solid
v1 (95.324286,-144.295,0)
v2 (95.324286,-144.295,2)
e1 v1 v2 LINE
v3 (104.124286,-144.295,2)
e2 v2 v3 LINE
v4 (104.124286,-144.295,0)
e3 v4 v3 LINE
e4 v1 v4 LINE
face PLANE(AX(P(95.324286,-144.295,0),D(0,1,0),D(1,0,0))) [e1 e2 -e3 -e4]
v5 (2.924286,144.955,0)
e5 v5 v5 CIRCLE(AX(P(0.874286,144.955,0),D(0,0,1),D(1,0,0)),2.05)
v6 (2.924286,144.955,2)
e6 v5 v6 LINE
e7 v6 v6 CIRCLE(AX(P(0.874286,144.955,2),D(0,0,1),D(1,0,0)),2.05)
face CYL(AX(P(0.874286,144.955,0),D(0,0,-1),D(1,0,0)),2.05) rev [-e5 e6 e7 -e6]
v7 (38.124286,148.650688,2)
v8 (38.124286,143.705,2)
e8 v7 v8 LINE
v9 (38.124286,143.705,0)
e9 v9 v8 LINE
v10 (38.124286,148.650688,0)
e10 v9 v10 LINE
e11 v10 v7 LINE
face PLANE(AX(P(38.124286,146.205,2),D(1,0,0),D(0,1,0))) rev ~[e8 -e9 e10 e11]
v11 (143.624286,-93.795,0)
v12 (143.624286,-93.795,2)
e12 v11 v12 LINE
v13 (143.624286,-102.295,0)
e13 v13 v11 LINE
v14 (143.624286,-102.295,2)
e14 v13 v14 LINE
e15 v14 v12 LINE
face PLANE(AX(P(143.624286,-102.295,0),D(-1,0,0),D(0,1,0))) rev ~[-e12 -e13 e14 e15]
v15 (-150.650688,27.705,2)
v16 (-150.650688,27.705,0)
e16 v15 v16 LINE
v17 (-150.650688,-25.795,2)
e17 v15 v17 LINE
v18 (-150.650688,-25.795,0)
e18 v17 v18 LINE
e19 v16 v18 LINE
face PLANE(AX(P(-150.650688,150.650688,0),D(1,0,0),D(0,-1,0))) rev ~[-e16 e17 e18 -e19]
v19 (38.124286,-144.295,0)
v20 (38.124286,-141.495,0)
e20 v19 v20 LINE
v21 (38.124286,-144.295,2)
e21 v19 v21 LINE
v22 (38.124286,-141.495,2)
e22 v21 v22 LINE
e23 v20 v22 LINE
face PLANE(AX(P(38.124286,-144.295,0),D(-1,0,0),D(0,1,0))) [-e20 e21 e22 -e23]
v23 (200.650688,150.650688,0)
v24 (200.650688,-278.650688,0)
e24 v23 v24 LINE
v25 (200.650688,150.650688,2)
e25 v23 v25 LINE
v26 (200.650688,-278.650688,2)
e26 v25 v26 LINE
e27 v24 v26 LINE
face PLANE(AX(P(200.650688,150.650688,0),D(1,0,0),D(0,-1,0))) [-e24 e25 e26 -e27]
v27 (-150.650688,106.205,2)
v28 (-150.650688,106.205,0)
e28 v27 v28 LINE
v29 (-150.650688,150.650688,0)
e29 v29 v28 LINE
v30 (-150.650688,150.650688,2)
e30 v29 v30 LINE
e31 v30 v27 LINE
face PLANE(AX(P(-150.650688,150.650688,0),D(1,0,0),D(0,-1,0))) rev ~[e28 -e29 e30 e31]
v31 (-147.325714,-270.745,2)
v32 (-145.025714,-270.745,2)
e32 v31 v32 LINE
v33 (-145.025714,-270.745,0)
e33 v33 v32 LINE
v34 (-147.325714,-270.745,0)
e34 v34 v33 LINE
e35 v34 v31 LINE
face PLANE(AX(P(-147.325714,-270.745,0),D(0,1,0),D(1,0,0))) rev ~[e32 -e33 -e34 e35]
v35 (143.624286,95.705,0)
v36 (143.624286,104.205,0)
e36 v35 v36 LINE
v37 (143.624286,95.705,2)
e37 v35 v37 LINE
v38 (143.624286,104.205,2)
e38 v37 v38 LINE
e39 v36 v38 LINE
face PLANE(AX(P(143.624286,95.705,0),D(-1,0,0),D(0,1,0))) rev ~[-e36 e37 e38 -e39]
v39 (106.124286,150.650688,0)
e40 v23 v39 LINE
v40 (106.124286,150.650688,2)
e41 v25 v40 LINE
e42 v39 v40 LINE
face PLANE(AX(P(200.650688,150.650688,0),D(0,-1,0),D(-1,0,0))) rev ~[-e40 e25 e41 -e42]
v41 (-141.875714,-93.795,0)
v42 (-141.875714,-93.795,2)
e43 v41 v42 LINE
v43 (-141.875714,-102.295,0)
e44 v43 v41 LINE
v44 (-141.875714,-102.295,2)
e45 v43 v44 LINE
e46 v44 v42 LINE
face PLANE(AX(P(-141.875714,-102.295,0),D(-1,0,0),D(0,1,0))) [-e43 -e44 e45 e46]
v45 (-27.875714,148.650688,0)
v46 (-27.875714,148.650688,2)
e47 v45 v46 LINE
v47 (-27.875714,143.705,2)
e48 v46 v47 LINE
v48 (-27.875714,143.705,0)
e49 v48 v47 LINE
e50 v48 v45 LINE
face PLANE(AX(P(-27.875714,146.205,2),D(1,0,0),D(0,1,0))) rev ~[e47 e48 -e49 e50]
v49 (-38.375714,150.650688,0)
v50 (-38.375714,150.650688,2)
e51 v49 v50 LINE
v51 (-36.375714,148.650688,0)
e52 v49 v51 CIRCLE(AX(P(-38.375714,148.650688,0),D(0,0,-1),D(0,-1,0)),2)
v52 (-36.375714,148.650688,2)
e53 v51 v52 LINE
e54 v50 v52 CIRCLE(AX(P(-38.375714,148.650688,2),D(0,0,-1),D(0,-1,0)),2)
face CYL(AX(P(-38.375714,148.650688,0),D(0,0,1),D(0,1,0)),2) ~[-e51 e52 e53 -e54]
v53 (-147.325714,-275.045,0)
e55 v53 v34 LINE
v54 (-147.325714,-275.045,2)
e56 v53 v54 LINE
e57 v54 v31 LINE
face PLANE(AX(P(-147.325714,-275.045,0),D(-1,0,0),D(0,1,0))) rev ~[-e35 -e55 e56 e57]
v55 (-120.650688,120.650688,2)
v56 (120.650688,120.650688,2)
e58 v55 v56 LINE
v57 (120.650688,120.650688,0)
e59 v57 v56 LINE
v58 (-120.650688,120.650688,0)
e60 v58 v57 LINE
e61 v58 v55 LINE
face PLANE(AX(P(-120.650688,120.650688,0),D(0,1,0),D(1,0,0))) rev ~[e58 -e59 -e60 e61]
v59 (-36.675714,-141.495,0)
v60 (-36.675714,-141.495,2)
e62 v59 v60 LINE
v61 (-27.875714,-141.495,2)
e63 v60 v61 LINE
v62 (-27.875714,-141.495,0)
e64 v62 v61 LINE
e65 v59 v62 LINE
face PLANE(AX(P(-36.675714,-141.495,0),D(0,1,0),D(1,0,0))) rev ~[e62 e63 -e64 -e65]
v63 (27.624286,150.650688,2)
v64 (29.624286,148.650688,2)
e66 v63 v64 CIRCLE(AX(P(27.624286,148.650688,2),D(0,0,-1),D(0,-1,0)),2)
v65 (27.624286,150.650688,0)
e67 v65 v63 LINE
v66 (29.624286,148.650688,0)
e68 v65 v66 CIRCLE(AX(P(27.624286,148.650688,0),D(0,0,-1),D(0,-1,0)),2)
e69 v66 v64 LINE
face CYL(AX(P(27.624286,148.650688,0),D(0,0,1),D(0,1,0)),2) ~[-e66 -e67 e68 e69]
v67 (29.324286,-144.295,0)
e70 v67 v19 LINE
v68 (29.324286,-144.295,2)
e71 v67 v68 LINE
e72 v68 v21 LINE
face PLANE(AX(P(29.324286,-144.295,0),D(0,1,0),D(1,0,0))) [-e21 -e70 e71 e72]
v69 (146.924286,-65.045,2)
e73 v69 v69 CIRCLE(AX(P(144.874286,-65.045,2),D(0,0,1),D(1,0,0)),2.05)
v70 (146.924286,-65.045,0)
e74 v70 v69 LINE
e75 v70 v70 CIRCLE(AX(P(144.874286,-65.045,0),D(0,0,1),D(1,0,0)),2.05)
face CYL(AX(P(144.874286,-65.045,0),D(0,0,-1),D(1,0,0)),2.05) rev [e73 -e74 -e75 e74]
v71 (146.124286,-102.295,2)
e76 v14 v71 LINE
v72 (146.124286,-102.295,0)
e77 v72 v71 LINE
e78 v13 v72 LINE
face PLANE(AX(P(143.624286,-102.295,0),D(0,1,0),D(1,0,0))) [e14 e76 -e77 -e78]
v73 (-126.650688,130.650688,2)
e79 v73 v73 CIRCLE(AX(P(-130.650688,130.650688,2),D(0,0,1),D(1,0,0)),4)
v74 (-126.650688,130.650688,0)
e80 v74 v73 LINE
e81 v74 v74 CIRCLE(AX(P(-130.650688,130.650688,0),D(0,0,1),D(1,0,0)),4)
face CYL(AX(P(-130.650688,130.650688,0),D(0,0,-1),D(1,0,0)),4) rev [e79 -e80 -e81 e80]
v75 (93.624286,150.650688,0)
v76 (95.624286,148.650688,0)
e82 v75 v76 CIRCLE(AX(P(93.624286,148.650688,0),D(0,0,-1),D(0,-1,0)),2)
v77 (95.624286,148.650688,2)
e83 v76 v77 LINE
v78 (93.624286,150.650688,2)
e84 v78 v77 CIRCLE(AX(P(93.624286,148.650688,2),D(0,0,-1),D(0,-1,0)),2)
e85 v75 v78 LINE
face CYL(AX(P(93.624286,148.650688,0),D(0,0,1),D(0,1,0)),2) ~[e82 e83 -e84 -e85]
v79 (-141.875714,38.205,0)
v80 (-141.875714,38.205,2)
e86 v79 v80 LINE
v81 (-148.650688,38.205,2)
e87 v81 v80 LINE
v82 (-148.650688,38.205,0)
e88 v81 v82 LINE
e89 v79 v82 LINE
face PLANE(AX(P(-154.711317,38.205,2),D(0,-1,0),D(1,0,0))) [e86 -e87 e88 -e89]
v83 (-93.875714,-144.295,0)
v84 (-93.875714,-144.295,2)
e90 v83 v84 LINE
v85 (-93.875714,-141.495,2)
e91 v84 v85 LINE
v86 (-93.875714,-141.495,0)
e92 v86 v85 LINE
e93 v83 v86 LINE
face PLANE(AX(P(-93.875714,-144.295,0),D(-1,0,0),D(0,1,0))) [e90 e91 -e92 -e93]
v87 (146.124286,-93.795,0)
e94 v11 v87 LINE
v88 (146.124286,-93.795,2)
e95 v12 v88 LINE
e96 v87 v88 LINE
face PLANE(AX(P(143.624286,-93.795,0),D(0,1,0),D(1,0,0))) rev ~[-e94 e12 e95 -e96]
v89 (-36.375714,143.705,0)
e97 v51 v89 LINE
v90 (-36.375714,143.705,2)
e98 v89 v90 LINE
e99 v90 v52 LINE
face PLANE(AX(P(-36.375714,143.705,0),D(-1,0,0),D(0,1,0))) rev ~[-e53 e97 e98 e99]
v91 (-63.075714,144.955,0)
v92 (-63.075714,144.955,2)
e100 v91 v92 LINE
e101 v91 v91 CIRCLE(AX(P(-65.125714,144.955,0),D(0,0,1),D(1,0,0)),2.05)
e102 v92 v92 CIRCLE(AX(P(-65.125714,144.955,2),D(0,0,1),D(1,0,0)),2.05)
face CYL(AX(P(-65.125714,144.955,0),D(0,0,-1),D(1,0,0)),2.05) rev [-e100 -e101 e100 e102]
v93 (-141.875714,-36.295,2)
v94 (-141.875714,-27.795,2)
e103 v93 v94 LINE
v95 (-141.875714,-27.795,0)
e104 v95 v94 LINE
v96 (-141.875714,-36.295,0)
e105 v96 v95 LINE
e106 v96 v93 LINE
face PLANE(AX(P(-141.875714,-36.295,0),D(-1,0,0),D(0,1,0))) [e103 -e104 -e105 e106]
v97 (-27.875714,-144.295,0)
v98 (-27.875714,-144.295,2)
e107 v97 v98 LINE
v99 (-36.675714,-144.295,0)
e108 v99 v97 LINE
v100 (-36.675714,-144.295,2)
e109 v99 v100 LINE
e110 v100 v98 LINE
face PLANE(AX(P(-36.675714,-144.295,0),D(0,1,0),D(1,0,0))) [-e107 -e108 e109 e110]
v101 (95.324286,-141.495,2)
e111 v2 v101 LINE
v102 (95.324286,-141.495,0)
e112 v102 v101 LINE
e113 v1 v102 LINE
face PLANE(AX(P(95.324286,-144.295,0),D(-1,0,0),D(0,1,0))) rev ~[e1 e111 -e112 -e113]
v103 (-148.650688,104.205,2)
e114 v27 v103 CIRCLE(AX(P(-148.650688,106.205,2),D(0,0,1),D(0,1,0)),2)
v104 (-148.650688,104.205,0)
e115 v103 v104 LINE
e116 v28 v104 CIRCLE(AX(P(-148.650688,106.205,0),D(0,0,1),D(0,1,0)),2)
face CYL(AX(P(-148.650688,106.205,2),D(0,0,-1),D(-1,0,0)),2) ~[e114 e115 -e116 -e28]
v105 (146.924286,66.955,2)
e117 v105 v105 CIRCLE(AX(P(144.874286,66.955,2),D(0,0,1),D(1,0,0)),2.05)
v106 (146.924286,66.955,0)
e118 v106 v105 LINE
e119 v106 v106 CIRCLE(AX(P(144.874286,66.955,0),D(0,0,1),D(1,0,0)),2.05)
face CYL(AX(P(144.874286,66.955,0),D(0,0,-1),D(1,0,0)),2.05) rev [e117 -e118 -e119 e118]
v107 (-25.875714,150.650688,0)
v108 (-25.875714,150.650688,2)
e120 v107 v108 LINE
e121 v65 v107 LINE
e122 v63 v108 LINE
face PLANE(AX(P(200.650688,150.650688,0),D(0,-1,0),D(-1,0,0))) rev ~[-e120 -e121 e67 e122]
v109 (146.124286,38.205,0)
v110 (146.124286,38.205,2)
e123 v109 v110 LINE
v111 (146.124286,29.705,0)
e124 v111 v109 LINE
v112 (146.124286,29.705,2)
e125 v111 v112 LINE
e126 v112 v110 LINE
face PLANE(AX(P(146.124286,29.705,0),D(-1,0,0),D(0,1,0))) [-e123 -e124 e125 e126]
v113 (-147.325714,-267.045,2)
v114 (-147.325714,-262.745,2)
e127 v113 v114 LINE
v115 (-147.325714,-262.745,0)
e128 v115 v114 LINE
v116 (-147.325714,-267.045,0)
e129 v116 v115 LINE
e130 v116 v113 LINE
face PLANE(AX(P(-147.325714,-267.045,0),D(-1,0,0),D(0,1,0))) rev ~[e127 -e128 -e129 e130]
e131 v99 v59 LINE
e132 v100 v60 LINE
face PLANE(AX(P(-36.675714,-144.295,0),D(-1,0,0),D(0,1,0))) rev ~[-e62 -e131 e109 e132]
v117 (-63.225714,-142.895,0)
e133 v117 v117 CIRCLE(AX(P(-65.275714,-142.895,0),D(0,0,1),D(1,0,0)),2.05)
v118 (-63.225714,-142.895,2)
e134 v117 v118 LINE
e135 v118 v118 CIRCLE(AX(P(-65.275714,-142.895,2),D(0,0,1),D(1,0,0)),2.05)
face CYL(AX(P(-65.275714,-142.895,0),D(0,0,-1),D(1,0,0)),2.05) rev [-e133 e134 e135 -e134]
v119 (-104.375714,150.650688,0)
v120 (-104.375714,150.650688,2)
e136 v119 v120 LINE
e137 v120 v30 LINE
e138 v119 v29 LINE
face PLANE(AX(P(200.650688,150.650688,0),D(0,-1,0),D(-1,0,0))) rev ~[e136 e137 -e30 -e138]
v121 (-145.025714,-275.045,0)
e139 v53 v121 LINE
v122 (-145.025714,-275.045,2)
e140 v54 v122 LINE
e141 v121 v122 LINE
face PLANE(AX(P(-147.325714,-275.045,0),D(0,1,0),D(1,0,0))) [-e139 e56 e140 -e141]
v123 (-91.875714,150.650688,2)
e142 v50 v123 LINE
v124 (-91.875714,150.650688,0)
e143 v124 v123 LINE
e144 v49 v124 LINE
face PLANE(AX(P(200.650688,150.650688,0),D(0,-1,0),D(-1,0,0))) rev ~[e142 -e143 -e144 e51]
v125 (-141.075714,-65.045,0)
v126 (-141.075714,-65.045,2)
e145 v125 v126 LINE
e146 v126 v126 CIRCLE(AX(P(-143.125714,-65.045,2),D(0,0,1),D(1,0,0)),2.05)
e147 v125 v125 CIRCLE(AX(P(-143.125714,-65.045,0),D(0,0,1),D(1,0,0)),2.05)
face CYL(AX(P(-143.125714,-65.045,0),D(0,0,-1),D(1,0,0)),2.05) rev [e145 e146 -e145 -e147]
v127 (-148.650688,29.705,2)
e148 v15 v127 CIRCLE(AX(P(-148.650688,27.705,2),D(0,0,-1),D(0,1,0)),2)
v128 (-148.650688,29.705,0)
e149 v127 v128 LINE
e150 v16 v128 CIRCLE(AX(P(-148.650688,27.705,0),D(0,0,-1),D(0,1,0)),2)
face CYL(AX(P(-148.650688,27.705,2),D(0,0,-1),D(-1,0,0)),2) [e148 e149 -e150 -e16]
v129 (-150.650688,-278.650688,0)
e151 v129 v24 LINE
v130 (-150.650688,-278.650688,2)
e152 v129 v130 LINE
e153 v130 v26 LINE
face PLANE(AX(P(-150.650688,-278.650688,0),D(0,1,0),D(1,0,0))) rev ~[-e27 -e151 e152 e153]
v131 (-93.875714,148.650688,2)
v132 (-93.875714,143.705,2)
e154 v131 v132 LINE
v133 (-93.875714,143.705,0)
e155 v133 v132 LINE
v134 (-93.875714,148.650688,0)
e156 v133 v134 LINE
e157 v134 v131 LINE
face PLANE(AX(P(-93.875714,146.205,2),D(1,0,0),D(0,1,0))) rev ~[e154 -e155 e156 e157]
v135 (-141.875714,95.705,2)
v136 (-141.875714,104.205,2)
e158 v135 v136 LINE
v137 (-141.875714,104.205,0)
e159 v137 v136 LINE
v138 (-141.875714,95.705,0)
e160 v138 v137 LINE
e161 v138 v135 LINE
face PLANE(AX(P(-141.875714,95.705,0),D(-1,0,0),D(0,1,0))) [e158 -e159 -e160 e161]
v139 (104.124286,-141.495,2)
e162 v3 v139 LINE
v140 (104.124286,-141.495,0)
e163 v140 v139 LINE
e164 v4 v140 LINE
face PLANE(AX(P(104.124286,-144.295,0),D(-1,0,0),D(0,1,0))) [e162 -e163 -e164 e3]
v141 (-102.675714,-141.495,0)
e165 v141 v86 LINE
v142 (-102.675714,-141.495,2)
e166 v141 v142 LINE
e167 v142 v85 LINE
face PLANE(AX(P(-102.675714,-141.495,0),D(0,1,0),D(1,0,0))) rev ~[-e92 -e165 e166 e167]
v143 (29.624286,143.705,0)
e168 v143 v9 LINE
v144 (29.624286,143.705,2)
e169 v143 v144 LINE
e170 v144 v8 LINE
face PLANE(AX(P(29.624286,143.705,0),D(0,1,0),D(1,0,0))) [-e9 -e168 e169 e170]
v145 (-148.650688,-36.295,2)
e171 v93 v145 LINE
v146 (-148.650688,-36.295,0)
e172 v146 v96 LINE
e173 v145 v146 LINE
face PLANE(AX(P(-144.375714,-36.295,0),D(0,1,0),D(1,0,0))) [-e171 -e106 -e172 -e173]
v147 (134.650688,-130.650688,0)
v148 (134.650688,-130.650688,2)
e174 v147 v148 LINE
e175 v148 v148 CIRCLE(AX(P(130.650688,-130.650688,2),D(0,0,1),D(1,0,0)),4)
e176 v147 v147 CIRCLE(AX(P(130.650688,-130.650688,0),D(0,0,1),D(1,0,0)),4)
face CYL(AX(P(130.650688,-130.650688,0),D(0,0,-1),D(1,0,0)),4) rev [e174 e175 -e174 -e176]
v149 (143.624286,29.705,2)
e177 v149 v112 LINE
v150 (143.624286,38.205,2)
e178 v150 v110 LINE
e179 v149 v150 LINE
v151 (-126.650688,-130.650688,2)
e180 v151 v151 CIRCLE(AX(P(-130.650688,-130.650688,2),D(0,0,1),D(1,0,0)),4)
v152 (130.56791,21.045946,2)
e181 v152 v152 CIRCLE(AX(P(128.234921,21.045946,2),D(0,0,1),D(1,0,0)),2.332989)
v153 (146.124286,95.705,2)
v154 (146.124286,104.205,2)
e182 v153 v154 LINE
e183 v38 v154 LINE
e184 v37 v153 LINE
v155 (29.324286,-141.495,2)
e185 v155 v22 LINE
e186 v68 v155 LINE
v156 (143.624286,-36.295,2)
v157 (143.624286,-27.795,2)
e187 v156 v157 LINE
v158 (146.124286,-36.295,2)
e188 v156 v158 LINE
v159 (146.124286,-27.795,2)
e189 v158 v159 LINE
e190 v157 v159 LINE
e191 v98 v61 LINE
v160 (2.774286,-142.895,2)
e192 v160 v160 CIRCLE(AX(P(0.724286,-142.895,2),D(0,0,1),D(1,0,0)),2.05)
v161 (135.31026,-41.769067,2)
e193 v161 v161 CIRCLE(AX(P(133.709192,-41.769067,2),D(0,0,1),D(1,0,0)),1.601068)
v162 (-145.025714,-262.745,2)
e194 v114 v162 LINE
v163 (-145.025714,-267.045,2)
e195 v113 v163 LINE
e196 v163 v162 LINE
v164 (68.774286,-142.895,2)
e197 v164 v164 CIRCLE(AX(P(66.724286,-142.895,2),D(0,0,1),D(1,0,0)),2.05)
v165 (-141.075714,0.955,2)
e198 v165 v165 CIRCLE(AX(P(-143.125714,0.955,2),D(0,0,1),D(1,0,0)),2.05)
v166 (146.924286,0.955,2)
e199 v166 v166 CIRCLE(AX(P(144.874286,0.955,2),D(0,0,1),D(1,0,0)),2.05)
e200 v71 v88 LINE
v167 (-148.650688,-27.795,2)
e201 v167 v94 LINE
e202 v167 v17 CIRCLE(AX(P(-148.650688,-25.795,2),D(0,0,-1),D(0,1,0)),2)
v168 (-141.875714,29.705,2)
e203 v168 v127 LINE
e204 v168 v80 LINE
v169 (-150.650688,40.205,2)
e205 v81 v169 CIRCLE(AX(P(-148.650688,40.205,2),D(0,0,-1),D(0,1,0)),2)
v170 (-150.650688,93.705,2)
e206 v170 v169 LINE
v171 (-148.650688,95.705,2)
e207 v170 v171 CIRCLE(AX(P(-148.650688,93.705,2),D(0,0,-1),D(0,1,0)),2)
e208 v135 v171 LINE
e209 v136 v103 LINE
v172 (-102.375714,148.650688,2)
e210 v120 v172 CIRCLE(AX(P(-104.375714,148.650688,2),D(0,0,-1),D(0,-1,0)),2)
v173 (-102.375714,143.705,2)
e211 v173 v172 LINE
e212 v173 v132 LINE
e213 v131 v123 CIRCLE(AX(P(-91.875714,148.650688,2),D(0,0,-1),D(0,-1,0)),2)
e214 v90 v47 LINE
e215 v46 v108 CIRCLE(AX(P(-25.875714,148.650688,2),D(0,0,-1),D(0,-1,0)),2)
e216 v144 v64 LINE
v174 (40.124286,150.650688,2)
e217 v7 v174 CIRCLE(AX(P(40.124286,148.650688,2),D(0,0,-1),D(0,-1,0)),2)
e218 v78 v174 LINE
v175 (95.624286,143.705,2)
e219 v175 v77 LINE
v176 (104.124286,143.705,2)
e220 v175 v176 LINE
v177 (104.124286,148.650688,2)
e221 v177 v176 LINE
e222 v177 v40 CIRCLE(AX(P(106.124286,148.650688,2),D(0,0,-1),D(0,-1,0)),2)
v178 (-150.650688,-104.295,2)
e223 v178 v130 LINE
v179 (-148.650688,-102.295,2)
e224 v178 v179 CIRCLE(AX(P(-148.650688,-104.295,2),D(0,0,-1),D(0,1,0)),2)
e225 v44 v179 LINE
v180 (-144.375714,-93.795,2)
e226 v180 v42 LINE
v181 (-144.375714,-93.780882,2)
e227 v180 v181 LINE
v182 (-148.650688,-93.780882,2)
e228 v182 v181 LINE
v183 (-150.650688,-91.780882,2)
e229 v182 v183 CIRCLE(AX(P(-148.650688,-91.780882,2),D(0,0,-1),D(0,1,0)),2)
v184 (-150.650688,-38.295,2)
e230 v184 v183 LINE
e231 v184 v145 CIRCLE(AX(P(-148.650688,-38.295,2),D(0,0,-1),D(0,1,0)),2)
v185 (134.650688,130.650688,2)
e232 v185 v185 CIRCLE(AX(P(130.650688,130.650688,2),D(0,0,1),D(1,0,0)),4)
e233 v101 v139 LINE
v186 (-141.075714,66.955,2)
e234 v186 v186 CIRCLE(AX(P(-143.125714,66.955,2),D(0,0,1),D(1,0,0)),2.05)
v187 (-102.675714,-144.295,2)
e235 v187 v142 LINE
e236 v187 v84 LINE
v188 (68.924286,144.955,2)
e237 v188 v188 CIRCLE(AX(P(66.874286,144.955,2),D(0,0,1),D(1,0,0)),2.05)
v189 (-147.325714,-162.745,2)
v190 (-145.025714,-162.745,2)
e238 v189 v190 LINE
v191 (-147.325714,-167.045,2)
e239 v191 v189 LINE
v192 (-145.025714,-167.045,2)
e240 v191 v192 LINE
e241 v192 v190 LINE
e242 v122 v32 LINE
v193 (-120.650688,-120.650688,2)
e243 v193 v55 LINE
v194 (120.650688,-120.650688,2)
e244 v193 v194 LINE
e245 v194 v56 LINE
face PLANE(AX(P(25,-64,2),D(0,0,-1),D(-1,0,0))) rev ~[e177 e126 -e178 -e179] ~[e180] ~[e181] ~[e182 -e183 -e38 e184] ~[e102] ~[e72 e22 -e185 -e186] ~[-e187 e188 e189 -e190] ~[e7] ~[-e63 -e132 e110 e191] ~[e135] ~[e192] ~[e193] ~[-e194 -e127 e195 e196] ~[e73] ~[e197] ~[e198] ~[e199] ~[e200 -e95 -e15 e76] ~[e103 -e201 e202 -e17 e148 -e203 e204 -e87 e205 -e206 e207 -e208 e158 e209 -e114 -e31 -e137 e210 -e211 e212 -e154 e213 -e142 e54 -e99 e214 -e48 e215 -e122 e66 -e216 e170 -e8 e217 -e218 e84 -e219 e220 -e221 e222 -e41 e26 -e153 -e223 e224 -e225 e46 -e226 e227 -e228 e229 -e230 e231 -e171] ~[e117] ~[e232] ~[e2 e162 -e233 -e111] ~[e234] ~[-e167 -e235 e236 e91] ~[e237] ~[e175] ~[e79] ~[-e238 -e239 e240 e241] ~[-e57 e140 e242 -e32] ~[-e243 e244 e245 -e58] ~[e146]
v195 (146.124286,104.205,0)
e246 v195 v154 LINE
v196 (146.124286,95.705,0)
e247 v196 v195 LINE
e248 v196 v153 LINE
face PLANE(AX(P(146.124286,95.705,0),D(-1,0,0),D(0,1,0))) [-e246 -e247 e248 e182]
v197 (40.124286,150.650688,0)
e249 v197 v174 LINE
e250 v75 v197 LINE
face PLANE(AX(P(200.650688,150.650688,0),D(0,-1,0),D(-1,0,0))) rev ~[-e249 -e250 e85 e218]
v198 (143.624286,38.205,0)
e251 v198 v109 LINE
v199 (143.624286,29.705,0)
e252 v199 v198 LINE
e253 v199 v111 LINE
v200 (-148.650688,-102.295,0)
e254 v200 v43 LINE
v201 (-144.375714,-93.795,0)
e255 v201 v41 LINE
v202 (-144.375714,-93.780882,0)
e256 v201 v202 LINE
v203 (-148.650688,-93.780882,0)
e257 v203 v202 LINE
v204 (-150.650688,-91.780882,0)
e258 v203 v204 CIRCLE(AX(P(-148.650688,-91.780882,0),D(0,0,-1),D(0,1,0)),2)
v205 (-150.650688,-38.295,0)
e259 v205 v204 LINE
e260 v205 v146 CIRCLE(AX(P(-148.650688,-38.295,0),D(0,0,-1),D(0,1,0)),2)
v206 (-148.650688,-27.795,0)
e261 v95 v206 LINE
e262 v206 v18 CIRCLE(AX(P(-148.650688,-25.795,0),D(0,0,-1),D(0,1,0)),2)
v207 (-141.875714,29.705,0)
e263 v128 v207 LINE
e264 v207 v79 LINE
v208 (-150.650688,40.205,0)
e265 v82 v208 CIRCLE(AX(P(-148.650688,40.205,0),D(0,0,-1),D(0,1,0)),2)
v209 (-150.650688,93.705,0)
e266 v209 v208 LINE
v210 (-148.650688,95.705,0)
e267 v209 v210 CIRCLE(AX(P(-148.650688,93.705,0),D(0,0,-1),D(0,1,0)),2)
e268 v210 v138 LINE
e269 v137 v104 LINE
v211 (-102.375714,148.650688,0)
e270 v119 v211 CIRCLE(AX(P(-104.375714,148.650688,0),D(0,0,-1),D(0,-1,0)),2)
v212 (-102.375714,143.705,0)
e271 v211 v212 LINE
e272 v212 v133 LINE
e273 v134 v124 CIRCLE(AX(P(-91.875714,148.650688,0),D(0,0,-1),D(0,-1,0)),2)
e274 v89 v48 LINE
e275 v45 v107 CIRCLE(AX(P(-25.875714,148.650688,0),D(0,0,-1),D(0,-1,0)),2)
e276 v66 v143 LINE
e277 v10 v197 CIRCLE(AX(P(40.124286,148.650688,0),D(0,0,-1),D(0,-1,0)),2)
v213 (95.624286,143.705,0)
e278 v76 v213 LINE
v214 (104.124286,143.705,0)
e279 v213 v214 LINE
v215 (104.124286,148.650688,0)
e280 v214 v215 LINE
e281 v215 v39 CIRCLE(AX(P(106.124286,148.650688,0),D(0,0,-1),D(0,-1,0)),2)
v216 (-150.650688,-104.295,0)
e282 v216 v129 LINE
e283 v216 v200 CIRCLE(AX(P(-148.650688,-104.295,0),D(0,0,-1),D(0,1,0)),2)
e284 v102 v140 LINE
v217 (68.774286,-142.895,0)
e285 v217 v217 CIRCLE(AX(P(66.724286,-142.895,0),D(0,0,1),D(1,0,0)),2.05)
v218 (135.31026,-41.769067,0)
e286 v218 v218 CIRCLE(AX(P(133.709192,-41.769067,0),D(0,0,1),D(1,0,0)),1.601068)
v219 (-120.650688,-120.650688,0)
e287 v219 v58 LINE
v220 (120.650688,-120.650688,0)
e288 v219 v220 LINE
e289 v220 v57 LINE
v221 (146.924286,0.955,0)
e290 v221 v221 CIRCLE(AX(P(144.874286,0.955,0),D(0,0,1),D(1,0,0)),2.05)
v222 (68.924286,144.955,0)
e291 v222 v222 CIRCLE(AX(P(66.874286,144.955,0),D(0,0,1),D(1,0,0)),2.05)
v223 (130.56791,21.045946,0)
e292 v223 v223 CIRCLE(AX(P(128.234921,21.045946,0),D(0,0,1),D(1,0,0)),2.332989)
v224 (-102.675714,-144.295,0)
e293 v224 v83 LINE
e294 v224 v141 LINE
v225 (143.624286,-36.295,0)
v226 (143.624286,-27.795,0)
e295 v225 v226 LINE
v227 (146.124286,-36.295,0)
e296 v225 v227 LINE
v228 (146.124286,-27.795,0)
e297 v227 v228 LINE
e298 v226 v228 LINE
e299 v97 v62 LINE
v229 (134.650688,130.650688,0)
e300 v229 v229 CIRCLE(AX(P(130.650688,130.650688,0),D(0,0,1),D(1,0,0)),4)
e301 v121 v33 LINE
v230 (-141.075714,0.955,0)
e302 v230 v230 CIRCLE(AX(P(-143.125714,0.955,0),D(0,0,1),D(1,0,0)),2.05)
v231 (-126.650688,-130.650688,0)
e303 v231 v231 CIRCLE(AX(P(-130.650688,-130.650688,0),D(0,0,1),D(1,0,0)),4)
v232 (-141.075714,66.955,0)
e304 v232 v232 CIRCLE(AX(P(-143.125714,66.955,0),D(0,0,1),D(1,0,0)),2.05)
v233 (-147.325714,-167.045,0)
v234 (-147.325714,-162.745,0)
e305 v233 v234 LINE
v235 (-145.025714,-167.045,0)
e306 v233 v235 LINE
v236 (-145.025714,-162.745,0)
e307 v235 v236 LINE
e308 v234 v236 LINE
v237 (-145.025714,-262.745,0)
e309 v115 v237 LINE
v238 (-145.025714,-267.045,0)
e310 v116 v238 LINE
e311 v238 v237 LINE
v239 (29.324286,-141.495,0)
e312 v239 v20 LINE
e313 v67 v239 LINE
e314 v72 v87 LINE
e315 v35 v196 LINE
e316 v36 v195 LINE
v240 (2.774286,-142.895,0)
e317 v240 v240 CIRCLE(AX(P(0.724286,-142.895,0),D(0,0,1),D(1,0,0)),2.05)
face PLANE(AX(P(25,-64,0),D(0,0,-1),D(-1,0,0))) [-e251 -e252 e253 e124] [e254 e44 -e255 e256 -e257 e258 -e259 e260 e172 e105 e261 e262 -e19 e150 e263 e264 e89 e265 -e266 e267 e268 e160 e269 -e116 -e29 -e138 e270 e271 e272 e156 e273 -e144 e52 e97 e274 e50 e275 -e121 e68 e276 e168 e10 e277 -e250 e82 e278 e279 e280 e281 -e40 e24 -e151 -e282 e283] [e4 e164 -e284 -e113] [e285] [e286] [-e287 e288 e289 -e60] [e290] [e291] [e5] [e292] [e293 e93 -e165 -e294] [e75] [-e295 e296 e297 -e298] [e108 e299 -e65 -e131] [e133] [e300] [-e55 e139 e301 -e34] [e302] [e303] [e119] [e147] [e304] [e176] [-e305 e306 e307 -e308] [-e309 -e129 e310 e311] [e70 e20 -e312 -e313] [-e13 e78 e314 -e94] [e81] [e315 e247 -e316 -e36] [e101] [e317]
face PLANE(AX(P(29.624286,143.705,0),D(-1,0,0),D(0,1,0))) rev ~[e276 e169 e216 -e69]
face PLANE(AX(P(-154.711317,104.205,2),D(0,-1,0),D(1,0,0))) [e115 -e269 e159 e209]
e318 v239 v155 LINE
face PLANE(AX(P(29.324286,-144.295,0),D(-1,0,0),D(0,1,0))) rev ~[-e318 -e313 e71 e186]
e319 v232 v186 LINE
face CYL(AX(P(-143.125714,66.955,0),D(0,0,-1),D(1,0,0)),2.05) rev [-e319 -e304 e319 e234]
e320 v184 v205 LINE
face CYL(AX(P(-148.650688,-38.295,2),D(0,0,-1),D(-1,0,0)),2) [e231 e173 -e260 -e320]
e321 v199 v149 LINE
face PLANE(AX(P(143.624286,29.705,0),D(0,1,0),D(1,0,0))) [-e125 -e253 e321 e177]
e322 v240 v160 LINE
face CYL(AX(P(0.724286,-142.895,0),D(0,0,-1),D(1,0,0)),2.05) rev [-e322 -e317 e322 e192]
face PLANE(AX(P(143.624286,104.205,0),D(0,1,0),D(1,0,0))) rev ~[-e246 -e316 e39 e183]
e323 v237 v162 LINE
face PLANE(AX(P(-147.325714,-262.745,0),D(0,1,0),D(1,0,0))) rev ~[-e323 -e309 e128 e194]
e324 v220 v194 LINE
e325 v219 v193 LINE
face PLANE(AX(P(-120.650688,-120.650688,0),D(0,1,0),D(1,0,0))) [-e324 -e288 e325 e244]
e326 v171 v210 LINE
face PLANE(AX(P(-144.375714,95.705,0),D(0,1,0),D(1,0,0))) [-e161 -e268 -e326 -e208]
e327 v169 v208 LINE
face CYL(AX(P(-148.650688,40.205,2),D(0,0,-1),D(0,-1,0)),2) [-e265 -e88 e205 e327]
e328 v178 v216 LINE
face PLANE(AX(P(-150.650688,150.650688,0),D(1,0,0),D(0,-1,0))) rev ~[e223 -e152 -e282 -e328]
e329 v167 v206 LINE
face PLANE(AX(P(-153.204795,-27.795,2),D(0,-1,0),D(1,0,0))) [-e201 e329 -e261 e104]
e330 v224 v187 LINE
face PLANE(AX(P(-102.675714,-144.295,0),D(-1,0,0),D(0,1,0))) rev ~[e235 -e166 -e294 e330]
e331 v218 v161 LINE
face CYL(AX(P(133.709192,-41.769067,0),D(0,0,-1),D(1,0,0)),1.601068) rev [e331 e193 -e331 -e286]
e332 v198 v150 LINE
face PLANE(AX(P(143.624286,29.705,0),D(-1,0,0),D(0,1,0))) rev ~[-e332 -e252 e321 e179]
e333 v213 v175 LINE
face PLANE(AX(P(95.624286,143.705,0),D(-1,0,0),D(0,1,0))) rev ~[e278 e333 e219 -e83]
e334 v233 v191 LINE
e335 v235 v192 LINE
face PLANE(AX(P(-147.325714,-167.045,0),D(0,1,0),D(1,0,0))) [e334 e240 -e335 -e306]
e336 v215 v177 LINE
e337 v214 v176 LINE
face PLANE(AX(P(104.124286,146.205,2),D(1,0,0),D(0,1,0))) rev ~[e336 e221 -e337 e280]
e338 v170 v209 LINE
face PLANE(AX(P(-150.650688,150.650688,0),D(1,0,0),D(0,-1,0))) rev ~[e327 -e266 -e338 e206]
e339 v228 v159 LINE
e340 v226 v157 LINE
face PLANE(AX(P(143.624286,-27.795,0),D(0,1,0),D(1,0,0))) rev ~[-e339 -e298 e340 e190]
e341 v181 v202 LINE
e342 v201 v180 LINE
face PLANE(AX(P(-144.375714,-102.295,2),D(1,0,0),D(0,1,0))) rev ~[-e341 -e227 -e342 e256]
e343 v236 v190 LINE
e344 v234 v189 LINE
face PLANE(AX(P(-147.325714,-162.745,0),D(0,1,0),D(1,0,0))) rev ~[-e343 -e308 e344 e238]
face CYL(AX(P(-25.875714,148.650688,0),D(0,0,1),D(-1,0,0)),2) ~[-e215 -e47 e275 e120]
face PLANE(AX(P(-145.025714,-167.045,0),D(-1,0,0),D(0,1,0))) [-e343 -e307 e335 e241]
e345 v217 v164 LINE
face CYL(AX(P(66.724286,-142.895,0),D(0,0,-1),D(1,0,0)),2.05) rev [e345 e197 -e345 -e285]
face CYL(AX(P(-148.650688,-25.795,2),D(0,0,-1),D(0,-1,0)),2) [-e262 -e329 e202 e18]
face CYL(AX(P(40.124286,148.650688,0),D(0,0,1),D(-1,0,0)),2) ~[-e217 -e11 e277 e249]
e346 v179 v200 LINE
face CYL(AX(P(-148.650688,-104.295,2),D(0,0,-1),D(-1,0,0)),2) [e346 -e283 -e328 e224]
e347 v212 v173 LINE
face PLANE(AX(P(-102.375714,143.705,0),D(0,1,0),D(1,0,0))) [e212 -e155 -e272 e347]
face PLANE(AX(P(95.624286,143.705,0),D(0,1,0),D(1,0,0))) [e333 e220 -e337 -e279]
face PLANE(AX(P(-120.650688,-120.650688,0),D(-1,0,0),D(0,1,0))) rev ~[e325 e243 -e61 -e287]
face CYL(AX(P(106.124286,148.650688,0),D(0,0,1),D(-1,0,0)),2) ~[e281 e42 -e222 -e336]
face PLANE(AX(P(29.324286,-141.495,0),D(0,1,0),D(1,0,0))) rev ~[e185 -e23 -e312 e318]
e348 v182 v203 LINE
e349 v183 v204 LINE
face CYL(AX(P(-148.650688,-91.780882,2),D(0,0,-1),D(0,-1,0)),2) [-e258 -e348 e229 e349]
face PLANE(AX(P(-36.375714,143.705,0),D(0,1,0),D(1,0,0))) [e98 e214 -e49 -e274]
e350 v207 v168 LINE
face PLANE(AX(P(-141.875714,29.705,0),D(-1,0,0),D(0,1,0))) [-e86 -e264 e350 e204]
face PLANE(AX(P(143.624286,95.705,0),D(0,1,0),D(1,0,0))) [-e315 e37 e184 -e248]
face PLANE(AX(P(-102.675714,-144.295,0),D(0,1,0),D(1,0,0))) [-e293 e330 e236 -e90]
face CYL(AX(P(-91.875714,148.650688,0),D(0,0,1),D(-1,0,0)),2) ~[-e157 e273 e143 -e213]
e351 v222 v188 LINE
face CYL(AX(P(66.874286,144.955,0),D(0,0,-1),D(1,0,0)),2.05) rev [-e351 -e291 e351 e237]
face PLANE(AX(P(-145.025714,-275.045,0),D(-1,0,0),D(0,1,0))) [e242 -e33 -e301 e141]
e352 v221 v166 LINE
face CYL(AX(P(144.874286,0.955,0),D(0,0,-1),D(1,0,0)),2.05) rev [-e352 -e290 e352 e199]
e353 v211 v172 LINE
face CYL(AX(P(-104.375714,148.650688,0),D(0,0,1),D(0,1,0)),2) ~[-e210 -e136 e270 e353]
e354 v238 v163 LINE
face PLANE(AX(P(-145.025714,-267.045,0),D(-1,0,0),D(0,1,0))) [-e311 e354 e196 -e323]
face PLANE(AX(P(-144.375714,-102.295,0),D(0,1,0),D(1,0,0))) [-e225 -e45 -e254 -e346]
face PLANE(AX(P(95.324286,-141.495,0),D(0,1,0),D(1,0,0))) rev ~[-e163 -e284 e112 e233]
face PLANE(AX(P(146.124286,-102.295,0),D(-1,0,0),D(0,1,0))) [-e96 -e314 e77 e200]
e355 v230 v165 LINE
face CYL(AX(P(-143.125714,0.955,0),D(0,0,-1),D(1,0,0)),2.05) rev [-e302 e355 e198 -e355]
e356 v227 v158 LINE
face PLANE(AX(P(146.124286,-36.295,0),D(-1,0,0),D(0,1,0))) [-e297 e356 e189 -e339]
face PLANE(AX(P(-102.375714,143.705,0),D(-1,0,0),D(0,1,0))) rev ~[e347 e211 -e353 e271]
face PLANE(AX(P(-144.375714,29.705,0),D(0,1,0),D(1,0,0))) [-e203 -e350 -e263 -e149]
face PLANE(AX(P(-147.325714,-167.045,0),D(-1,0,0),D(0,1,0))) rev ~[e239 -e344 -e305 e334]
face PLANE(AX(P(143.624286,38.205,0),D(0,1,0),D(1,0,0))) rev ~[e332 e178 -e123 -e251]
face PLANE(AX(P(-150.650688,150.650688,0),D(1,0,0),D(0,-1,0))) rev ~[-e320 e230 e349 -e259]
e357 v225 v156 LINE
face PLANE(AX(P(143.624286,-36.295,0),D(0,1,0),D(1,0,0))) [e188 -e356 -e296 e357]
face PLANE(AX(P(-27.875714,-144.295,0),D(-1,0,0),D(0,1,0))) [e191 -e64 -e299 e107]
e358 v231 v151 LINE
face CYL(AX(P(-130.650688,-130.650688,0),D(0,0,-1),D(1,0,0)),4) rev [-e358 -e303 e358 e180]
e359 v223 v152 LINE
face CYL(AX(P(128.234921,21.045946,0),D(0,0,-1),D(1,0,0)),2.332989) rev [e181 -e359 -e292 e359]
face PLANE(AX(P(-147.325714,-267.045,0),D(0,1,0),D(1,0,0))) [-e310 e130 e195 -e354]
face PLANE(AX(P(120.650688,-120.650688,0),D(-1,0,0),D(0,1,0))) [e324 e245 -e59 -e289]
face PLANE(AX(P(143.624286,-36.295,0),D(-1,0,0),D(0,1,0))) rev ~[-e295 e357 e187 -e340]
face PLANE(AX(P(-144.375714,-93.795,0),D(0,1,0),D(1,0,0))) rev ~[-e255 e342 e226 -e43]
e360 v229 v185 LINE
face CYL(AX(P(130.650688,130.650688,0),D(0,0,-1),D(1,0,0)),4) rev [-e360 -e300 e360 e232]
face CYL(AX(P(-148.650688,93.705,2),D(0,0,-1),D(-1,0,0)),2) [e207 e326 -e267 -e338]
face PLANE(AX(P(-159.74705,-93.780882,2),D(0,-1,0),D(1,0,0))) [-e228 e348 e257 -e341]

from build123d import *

# Parameters (mm, degrees)
SKETCH_1_R          = 2.05
SKETCH_1_R_2        = 4
SKETCH_1_R_3        = 2.332988974
SKETCH_1_R_4        = 1.601067765
SKETCH_1_W          = 8.8
SKETCH_1_H          = 2.8
SKETCH_1_W_2        = 2.5
SKETCH_1_H_2        = 8.5
SKETCH_1_W_3        = 8.5
SKETCH_1_H_3        = 2.5
SKETCH_1_W_4        = 241.301375666
SKETCH_1_H_4        = 241.301375666
SKETCH_1_W_5        = 2.3
SKETCH_1_H_5        = 4.3
EXTRUDE_1_DEPTH     = 2
SKETCH_2_W          = 15.371335927
SKETCH_2_H          = 8.514117998
SKETCH_2_W_2        = 8.829080761
SKETCH_2_H_2        = 8.5
SKETCH_2_W_3        = 10.335603127
SKETCH_2_W_4        = 8.5
SKETCH_2_H_3        = 5.29768324
SKETCH_2_H_4        = 6.445558592
SKETCH_2_H_5        = 5.884818728
CUT_EXTRUDE_1_DEPTH = 2
FILLET_1_R          = 2


with BuildPart() as part:
    # 草图1 → 凸台-拉伸1 (new body)
    with BuildSketch(Plane.XY):
        Polygon((-150.650687833, -150.650687833), (-150.650687833, 150.650687833), (150.650687833, 150.650687833), (200.650687833, 150.650687833), (200.650687833, -278.650687833), (150.650687833, -278.650687833), (-150.650687833, -278.650687833), align=None)
        with Locations((0.724285714, -142.895)):
            Circle(SKETCH_1_R, mode=Mode.SUBTRACT)
        with Locations((66.724285714, -142.895)):
            Circle(SKETCH_1_R, mode=Mode.SUBTRACT)
        with Locations((-65.275714286, -142.895)):
            Circle(SKETCH_1_R, mode=Mode.SUBTRACT)
        with Locations((-143.125714286, 66.955)):
            Circle(SKETCH_1_R, mode=Mode.SUBTRACT)
        with Locations((-143.125714286, 0.955)):
            Circle(SKETCH_1_R, mode=Mode.SUBTRACT)
        with Locations((-143.125714286, -65.045)):
            Circle(SKETCH_1_R, mode=Mode.SUBTRACT)
        with Locations((66.874285714, 144.955)):
            Circle(SKETCH_1_R, mode=Mode.SUBTRACT)
        with Locations((0.874285714, 144.955)):
            Circle(SKETCH_1_R, mode=Mode.SUBTRACT)
        with Locations((-65.125714286, 144.955)):
            Circle(SKETCH_1_R, mode=Mode.SUBTRACT)
        with Locations((144.874285714, -65.045)):
            Circle(SKETCH_1_R, mode=Mode.SUBTRACT)
        with Locations((144.874285714, 0.955)):
            Circle(SKETCH_1_R, mode=Mode.SUBTRACT)
        with Locations((144.874285714, 66.955)):
            Circle(SKETCH_1_R, mode=Mode.SUBTRACT)
        with Locations((-130.650687833, -130.650687833)):
            Circle(SKETCH_1_R_2, mode=Mode.SUBTRACT)
        with Locations((-130.650687833, 130.650687833)):
            Circle(SKETCH_1_R_2, mode=Mode.SUBTRACT)
        with Locations((130.650687833, 130.650687833)):
            Circle(SKETCH_1_R_2, mode=Mode.SUBTRACT)
        with Locations((130.650687833, -130.650687833)):
            Circle(SKETCH_1_R_2, mode=Mode.SUBTRACT)
        with Locations((128.234921063, 21.045946403)):
            Circle(SKETCH_1_R_3, mode=Mode.SUBTRACT)
        with Locations((133.709191973, -41.76906745)):
            Circle(SKETCH_1_R_4, mode=Mode.SUBTRACT)
        with Locations((99.724285714, -142.895)):
            Rectangle(SKETCH_1_W, SKETCH_1_H, mode=Mode.SUBTRACT)
        with Locations((33.724285714, -142.895)):
            Rectangle(SKETCH_1_W, SKETCH_1_H, mode=Mode.SUBTRACT)
        with Locations((-32.275714286, -142.895)):
            Rectangle(SKETCH_1_W, SKETCH_1_H, mode=Mode.SUBTRACT)
        with Locations((-98.275714286, -142.895)):
            Rectangle(SKETCH_1_W, SKETCH_1_H, mode=Mode.SUBTRACT)
        with Locations((-143.125714286, 99.955)):
            Rectangle(SKETCH_1_W_2, SKETCH_1_H_2, mode=Mode.SUBTRACT)
        with Locations((-143.125714286, 33.955)):
            Rectangle(SKETCH_1_W_2, SKETCH_1_H_2, mode=Mode.SUBTRACT)
        with Locations((-143.125714286, -32.045)):
            Rectangle(SKETCH_1_W_2, SKETCH_1_H_2, mode=Mode.SUBTRACT)
        with Locations((-143.125714286, -98.045)):
            Rectangle(SKETCH_1_W_2, SKETCH_1_H_2, mode=Mode.SUBTRACT)
        with Locations((99.874285714, 144.955)):
            Rectangle(SKETCH_1_W_3, SKETCH_1_H_3, mode=Mode.SUBTRACT)
        with Locations((33.874285714, 144.955)):
            Rectangle(SKETCH_1_W_3, SKETCH_1_H_3, mode=Mode.SUBTRACT)
        with Locations((-32.125714286, 144.955)):
            Rectangle(SKETCH_1_W_3, SKETCH_1_H_3, mode=Mode.SUBTRACT)
        with Locations((-98.125714286, 144.955)):
            Rectangle(SKETCH_1_W_3, SKETCH_1_H_3, mode=Mode.SUBTRACT)
        with Locations((144.874285714, -98.045)):
            Rectangle(SKETCH_1_W_2, SKETCH_1_H_2, mode=Mode.SUBTRACT)
        with Locations((144.874285714, -32.045)):
            Rectangle(SKETCH_1_W_2, SKETCH_1_H_2, mode=Mode.SUBTRACT)
        with Locations((144.874285714, 33.955)):
            Rectangle(SKETCH_1_W_2, SKETCH_1_H_2, mode=Mode.SUBTRACT)
        with Locations((144.874285714, 99.955)):
            Rectangle(SKETCH_1_W_2, SKETCH_1_H_2, mode=Mode.SUBTRACT)
        Rectangle(SKETCH_1_W_4, SKETCH_1_H_4, mode=Mode.SUBTRACT)
        with Locations((-146.175714286, -272.895)):
            Rectangle(SKETCH_1_W_5, SKETCH_1_H_5, mode=Mode.SUBTRACT)
        with Locations((-146.175714286, -264.895)):
            Rectangle(SKETCH_1_W_5, SKETCH_1_H_5, mode=Mode.SUBTRACT)
        with Locations((-146.175714286, -164.895)):
            Rectangle(SKETCH_1_W_5, SKETCH_1_H_5, mode=Mode.SUBTRACT)
    extrude(amount=EXTRUDE_1_DEPTH)

    # 草图2 → 切除-拉伸1 (cut)
    with BuildSketch(Plane.XY.offset(2)):
        with Locations((-152.06138225, -98.037941001)):
            Rectangle(SKETCH_2_W, SKETCH_2_H)
        with Locations((-148.790254667, -32.045)):
            Rectangle(SKETCH_2_W_2, SKETCH_2_H_2)
        with Locations((-149.54351585, 33.955)):
            Rectangle(SKETCH_2_W_3, SKETCH_2_H_2)
        with Locations((-149.54351585, 99.955)):
            Rectangle(SKETCH_2_W_3, SKETCH_2_H_2)
        with Locations((-98.125714286, 148.85384162)):
            Rectangle(SKETCH_2_W_4, SKETCH_2_H_3)
        with Locations((-32.125714286, 149.427779296)):
            Rectangle(SKETCH_2_W_4, SKETCH_2_H_4)
        with Locations((33.874285714, 149.427779296)):
            Rectangle(SKETCH_2_W_4, SKETCH_2_H_4)
        with Locations((99.874285714, 149.147409364)):
            Rectangle(SKETCH_2_W_4, SKETCH_2_H_5)
    extrude(amount=-CUT_EXTRUDE_1_DEPTH, mode=Mode.SUBTRACT)

    # 圆角1
    fillet_1_edges = [part.edges().sort_by_distance(p)[0] for p in [
        (-150.650687833, -102.295, 1),
        (-150.650687833, -93.780882002, 1),
        (-150.650687833, -36.295, 1),
        (-150.650687833, -27.795, 1),
        (-150.650687833, 29.705, 1),
        (-150.650687833, 38.205, 1),
        (-150.650687833, 95.705, 1),
        (-150.650687833, 104.205, 1),
        (-102.375714286, 150.650687833, 1),
        (-93.875714286, 150.650687833, 1),
        (-36.375714286, 150.650687833, 1),
        (-27.875714286, 150.650687833, 1),
        (29.624285714, 150.650687833, 1),
        (38.124285714, 150.650687833, 1),
        (95.624285714, 150.650687833, 1),
        (104.124285714, 150.650687833, 1),
    ]]
    fillet(fillet_1_edges, radius=FILLET_1_R)


solid = part.part
